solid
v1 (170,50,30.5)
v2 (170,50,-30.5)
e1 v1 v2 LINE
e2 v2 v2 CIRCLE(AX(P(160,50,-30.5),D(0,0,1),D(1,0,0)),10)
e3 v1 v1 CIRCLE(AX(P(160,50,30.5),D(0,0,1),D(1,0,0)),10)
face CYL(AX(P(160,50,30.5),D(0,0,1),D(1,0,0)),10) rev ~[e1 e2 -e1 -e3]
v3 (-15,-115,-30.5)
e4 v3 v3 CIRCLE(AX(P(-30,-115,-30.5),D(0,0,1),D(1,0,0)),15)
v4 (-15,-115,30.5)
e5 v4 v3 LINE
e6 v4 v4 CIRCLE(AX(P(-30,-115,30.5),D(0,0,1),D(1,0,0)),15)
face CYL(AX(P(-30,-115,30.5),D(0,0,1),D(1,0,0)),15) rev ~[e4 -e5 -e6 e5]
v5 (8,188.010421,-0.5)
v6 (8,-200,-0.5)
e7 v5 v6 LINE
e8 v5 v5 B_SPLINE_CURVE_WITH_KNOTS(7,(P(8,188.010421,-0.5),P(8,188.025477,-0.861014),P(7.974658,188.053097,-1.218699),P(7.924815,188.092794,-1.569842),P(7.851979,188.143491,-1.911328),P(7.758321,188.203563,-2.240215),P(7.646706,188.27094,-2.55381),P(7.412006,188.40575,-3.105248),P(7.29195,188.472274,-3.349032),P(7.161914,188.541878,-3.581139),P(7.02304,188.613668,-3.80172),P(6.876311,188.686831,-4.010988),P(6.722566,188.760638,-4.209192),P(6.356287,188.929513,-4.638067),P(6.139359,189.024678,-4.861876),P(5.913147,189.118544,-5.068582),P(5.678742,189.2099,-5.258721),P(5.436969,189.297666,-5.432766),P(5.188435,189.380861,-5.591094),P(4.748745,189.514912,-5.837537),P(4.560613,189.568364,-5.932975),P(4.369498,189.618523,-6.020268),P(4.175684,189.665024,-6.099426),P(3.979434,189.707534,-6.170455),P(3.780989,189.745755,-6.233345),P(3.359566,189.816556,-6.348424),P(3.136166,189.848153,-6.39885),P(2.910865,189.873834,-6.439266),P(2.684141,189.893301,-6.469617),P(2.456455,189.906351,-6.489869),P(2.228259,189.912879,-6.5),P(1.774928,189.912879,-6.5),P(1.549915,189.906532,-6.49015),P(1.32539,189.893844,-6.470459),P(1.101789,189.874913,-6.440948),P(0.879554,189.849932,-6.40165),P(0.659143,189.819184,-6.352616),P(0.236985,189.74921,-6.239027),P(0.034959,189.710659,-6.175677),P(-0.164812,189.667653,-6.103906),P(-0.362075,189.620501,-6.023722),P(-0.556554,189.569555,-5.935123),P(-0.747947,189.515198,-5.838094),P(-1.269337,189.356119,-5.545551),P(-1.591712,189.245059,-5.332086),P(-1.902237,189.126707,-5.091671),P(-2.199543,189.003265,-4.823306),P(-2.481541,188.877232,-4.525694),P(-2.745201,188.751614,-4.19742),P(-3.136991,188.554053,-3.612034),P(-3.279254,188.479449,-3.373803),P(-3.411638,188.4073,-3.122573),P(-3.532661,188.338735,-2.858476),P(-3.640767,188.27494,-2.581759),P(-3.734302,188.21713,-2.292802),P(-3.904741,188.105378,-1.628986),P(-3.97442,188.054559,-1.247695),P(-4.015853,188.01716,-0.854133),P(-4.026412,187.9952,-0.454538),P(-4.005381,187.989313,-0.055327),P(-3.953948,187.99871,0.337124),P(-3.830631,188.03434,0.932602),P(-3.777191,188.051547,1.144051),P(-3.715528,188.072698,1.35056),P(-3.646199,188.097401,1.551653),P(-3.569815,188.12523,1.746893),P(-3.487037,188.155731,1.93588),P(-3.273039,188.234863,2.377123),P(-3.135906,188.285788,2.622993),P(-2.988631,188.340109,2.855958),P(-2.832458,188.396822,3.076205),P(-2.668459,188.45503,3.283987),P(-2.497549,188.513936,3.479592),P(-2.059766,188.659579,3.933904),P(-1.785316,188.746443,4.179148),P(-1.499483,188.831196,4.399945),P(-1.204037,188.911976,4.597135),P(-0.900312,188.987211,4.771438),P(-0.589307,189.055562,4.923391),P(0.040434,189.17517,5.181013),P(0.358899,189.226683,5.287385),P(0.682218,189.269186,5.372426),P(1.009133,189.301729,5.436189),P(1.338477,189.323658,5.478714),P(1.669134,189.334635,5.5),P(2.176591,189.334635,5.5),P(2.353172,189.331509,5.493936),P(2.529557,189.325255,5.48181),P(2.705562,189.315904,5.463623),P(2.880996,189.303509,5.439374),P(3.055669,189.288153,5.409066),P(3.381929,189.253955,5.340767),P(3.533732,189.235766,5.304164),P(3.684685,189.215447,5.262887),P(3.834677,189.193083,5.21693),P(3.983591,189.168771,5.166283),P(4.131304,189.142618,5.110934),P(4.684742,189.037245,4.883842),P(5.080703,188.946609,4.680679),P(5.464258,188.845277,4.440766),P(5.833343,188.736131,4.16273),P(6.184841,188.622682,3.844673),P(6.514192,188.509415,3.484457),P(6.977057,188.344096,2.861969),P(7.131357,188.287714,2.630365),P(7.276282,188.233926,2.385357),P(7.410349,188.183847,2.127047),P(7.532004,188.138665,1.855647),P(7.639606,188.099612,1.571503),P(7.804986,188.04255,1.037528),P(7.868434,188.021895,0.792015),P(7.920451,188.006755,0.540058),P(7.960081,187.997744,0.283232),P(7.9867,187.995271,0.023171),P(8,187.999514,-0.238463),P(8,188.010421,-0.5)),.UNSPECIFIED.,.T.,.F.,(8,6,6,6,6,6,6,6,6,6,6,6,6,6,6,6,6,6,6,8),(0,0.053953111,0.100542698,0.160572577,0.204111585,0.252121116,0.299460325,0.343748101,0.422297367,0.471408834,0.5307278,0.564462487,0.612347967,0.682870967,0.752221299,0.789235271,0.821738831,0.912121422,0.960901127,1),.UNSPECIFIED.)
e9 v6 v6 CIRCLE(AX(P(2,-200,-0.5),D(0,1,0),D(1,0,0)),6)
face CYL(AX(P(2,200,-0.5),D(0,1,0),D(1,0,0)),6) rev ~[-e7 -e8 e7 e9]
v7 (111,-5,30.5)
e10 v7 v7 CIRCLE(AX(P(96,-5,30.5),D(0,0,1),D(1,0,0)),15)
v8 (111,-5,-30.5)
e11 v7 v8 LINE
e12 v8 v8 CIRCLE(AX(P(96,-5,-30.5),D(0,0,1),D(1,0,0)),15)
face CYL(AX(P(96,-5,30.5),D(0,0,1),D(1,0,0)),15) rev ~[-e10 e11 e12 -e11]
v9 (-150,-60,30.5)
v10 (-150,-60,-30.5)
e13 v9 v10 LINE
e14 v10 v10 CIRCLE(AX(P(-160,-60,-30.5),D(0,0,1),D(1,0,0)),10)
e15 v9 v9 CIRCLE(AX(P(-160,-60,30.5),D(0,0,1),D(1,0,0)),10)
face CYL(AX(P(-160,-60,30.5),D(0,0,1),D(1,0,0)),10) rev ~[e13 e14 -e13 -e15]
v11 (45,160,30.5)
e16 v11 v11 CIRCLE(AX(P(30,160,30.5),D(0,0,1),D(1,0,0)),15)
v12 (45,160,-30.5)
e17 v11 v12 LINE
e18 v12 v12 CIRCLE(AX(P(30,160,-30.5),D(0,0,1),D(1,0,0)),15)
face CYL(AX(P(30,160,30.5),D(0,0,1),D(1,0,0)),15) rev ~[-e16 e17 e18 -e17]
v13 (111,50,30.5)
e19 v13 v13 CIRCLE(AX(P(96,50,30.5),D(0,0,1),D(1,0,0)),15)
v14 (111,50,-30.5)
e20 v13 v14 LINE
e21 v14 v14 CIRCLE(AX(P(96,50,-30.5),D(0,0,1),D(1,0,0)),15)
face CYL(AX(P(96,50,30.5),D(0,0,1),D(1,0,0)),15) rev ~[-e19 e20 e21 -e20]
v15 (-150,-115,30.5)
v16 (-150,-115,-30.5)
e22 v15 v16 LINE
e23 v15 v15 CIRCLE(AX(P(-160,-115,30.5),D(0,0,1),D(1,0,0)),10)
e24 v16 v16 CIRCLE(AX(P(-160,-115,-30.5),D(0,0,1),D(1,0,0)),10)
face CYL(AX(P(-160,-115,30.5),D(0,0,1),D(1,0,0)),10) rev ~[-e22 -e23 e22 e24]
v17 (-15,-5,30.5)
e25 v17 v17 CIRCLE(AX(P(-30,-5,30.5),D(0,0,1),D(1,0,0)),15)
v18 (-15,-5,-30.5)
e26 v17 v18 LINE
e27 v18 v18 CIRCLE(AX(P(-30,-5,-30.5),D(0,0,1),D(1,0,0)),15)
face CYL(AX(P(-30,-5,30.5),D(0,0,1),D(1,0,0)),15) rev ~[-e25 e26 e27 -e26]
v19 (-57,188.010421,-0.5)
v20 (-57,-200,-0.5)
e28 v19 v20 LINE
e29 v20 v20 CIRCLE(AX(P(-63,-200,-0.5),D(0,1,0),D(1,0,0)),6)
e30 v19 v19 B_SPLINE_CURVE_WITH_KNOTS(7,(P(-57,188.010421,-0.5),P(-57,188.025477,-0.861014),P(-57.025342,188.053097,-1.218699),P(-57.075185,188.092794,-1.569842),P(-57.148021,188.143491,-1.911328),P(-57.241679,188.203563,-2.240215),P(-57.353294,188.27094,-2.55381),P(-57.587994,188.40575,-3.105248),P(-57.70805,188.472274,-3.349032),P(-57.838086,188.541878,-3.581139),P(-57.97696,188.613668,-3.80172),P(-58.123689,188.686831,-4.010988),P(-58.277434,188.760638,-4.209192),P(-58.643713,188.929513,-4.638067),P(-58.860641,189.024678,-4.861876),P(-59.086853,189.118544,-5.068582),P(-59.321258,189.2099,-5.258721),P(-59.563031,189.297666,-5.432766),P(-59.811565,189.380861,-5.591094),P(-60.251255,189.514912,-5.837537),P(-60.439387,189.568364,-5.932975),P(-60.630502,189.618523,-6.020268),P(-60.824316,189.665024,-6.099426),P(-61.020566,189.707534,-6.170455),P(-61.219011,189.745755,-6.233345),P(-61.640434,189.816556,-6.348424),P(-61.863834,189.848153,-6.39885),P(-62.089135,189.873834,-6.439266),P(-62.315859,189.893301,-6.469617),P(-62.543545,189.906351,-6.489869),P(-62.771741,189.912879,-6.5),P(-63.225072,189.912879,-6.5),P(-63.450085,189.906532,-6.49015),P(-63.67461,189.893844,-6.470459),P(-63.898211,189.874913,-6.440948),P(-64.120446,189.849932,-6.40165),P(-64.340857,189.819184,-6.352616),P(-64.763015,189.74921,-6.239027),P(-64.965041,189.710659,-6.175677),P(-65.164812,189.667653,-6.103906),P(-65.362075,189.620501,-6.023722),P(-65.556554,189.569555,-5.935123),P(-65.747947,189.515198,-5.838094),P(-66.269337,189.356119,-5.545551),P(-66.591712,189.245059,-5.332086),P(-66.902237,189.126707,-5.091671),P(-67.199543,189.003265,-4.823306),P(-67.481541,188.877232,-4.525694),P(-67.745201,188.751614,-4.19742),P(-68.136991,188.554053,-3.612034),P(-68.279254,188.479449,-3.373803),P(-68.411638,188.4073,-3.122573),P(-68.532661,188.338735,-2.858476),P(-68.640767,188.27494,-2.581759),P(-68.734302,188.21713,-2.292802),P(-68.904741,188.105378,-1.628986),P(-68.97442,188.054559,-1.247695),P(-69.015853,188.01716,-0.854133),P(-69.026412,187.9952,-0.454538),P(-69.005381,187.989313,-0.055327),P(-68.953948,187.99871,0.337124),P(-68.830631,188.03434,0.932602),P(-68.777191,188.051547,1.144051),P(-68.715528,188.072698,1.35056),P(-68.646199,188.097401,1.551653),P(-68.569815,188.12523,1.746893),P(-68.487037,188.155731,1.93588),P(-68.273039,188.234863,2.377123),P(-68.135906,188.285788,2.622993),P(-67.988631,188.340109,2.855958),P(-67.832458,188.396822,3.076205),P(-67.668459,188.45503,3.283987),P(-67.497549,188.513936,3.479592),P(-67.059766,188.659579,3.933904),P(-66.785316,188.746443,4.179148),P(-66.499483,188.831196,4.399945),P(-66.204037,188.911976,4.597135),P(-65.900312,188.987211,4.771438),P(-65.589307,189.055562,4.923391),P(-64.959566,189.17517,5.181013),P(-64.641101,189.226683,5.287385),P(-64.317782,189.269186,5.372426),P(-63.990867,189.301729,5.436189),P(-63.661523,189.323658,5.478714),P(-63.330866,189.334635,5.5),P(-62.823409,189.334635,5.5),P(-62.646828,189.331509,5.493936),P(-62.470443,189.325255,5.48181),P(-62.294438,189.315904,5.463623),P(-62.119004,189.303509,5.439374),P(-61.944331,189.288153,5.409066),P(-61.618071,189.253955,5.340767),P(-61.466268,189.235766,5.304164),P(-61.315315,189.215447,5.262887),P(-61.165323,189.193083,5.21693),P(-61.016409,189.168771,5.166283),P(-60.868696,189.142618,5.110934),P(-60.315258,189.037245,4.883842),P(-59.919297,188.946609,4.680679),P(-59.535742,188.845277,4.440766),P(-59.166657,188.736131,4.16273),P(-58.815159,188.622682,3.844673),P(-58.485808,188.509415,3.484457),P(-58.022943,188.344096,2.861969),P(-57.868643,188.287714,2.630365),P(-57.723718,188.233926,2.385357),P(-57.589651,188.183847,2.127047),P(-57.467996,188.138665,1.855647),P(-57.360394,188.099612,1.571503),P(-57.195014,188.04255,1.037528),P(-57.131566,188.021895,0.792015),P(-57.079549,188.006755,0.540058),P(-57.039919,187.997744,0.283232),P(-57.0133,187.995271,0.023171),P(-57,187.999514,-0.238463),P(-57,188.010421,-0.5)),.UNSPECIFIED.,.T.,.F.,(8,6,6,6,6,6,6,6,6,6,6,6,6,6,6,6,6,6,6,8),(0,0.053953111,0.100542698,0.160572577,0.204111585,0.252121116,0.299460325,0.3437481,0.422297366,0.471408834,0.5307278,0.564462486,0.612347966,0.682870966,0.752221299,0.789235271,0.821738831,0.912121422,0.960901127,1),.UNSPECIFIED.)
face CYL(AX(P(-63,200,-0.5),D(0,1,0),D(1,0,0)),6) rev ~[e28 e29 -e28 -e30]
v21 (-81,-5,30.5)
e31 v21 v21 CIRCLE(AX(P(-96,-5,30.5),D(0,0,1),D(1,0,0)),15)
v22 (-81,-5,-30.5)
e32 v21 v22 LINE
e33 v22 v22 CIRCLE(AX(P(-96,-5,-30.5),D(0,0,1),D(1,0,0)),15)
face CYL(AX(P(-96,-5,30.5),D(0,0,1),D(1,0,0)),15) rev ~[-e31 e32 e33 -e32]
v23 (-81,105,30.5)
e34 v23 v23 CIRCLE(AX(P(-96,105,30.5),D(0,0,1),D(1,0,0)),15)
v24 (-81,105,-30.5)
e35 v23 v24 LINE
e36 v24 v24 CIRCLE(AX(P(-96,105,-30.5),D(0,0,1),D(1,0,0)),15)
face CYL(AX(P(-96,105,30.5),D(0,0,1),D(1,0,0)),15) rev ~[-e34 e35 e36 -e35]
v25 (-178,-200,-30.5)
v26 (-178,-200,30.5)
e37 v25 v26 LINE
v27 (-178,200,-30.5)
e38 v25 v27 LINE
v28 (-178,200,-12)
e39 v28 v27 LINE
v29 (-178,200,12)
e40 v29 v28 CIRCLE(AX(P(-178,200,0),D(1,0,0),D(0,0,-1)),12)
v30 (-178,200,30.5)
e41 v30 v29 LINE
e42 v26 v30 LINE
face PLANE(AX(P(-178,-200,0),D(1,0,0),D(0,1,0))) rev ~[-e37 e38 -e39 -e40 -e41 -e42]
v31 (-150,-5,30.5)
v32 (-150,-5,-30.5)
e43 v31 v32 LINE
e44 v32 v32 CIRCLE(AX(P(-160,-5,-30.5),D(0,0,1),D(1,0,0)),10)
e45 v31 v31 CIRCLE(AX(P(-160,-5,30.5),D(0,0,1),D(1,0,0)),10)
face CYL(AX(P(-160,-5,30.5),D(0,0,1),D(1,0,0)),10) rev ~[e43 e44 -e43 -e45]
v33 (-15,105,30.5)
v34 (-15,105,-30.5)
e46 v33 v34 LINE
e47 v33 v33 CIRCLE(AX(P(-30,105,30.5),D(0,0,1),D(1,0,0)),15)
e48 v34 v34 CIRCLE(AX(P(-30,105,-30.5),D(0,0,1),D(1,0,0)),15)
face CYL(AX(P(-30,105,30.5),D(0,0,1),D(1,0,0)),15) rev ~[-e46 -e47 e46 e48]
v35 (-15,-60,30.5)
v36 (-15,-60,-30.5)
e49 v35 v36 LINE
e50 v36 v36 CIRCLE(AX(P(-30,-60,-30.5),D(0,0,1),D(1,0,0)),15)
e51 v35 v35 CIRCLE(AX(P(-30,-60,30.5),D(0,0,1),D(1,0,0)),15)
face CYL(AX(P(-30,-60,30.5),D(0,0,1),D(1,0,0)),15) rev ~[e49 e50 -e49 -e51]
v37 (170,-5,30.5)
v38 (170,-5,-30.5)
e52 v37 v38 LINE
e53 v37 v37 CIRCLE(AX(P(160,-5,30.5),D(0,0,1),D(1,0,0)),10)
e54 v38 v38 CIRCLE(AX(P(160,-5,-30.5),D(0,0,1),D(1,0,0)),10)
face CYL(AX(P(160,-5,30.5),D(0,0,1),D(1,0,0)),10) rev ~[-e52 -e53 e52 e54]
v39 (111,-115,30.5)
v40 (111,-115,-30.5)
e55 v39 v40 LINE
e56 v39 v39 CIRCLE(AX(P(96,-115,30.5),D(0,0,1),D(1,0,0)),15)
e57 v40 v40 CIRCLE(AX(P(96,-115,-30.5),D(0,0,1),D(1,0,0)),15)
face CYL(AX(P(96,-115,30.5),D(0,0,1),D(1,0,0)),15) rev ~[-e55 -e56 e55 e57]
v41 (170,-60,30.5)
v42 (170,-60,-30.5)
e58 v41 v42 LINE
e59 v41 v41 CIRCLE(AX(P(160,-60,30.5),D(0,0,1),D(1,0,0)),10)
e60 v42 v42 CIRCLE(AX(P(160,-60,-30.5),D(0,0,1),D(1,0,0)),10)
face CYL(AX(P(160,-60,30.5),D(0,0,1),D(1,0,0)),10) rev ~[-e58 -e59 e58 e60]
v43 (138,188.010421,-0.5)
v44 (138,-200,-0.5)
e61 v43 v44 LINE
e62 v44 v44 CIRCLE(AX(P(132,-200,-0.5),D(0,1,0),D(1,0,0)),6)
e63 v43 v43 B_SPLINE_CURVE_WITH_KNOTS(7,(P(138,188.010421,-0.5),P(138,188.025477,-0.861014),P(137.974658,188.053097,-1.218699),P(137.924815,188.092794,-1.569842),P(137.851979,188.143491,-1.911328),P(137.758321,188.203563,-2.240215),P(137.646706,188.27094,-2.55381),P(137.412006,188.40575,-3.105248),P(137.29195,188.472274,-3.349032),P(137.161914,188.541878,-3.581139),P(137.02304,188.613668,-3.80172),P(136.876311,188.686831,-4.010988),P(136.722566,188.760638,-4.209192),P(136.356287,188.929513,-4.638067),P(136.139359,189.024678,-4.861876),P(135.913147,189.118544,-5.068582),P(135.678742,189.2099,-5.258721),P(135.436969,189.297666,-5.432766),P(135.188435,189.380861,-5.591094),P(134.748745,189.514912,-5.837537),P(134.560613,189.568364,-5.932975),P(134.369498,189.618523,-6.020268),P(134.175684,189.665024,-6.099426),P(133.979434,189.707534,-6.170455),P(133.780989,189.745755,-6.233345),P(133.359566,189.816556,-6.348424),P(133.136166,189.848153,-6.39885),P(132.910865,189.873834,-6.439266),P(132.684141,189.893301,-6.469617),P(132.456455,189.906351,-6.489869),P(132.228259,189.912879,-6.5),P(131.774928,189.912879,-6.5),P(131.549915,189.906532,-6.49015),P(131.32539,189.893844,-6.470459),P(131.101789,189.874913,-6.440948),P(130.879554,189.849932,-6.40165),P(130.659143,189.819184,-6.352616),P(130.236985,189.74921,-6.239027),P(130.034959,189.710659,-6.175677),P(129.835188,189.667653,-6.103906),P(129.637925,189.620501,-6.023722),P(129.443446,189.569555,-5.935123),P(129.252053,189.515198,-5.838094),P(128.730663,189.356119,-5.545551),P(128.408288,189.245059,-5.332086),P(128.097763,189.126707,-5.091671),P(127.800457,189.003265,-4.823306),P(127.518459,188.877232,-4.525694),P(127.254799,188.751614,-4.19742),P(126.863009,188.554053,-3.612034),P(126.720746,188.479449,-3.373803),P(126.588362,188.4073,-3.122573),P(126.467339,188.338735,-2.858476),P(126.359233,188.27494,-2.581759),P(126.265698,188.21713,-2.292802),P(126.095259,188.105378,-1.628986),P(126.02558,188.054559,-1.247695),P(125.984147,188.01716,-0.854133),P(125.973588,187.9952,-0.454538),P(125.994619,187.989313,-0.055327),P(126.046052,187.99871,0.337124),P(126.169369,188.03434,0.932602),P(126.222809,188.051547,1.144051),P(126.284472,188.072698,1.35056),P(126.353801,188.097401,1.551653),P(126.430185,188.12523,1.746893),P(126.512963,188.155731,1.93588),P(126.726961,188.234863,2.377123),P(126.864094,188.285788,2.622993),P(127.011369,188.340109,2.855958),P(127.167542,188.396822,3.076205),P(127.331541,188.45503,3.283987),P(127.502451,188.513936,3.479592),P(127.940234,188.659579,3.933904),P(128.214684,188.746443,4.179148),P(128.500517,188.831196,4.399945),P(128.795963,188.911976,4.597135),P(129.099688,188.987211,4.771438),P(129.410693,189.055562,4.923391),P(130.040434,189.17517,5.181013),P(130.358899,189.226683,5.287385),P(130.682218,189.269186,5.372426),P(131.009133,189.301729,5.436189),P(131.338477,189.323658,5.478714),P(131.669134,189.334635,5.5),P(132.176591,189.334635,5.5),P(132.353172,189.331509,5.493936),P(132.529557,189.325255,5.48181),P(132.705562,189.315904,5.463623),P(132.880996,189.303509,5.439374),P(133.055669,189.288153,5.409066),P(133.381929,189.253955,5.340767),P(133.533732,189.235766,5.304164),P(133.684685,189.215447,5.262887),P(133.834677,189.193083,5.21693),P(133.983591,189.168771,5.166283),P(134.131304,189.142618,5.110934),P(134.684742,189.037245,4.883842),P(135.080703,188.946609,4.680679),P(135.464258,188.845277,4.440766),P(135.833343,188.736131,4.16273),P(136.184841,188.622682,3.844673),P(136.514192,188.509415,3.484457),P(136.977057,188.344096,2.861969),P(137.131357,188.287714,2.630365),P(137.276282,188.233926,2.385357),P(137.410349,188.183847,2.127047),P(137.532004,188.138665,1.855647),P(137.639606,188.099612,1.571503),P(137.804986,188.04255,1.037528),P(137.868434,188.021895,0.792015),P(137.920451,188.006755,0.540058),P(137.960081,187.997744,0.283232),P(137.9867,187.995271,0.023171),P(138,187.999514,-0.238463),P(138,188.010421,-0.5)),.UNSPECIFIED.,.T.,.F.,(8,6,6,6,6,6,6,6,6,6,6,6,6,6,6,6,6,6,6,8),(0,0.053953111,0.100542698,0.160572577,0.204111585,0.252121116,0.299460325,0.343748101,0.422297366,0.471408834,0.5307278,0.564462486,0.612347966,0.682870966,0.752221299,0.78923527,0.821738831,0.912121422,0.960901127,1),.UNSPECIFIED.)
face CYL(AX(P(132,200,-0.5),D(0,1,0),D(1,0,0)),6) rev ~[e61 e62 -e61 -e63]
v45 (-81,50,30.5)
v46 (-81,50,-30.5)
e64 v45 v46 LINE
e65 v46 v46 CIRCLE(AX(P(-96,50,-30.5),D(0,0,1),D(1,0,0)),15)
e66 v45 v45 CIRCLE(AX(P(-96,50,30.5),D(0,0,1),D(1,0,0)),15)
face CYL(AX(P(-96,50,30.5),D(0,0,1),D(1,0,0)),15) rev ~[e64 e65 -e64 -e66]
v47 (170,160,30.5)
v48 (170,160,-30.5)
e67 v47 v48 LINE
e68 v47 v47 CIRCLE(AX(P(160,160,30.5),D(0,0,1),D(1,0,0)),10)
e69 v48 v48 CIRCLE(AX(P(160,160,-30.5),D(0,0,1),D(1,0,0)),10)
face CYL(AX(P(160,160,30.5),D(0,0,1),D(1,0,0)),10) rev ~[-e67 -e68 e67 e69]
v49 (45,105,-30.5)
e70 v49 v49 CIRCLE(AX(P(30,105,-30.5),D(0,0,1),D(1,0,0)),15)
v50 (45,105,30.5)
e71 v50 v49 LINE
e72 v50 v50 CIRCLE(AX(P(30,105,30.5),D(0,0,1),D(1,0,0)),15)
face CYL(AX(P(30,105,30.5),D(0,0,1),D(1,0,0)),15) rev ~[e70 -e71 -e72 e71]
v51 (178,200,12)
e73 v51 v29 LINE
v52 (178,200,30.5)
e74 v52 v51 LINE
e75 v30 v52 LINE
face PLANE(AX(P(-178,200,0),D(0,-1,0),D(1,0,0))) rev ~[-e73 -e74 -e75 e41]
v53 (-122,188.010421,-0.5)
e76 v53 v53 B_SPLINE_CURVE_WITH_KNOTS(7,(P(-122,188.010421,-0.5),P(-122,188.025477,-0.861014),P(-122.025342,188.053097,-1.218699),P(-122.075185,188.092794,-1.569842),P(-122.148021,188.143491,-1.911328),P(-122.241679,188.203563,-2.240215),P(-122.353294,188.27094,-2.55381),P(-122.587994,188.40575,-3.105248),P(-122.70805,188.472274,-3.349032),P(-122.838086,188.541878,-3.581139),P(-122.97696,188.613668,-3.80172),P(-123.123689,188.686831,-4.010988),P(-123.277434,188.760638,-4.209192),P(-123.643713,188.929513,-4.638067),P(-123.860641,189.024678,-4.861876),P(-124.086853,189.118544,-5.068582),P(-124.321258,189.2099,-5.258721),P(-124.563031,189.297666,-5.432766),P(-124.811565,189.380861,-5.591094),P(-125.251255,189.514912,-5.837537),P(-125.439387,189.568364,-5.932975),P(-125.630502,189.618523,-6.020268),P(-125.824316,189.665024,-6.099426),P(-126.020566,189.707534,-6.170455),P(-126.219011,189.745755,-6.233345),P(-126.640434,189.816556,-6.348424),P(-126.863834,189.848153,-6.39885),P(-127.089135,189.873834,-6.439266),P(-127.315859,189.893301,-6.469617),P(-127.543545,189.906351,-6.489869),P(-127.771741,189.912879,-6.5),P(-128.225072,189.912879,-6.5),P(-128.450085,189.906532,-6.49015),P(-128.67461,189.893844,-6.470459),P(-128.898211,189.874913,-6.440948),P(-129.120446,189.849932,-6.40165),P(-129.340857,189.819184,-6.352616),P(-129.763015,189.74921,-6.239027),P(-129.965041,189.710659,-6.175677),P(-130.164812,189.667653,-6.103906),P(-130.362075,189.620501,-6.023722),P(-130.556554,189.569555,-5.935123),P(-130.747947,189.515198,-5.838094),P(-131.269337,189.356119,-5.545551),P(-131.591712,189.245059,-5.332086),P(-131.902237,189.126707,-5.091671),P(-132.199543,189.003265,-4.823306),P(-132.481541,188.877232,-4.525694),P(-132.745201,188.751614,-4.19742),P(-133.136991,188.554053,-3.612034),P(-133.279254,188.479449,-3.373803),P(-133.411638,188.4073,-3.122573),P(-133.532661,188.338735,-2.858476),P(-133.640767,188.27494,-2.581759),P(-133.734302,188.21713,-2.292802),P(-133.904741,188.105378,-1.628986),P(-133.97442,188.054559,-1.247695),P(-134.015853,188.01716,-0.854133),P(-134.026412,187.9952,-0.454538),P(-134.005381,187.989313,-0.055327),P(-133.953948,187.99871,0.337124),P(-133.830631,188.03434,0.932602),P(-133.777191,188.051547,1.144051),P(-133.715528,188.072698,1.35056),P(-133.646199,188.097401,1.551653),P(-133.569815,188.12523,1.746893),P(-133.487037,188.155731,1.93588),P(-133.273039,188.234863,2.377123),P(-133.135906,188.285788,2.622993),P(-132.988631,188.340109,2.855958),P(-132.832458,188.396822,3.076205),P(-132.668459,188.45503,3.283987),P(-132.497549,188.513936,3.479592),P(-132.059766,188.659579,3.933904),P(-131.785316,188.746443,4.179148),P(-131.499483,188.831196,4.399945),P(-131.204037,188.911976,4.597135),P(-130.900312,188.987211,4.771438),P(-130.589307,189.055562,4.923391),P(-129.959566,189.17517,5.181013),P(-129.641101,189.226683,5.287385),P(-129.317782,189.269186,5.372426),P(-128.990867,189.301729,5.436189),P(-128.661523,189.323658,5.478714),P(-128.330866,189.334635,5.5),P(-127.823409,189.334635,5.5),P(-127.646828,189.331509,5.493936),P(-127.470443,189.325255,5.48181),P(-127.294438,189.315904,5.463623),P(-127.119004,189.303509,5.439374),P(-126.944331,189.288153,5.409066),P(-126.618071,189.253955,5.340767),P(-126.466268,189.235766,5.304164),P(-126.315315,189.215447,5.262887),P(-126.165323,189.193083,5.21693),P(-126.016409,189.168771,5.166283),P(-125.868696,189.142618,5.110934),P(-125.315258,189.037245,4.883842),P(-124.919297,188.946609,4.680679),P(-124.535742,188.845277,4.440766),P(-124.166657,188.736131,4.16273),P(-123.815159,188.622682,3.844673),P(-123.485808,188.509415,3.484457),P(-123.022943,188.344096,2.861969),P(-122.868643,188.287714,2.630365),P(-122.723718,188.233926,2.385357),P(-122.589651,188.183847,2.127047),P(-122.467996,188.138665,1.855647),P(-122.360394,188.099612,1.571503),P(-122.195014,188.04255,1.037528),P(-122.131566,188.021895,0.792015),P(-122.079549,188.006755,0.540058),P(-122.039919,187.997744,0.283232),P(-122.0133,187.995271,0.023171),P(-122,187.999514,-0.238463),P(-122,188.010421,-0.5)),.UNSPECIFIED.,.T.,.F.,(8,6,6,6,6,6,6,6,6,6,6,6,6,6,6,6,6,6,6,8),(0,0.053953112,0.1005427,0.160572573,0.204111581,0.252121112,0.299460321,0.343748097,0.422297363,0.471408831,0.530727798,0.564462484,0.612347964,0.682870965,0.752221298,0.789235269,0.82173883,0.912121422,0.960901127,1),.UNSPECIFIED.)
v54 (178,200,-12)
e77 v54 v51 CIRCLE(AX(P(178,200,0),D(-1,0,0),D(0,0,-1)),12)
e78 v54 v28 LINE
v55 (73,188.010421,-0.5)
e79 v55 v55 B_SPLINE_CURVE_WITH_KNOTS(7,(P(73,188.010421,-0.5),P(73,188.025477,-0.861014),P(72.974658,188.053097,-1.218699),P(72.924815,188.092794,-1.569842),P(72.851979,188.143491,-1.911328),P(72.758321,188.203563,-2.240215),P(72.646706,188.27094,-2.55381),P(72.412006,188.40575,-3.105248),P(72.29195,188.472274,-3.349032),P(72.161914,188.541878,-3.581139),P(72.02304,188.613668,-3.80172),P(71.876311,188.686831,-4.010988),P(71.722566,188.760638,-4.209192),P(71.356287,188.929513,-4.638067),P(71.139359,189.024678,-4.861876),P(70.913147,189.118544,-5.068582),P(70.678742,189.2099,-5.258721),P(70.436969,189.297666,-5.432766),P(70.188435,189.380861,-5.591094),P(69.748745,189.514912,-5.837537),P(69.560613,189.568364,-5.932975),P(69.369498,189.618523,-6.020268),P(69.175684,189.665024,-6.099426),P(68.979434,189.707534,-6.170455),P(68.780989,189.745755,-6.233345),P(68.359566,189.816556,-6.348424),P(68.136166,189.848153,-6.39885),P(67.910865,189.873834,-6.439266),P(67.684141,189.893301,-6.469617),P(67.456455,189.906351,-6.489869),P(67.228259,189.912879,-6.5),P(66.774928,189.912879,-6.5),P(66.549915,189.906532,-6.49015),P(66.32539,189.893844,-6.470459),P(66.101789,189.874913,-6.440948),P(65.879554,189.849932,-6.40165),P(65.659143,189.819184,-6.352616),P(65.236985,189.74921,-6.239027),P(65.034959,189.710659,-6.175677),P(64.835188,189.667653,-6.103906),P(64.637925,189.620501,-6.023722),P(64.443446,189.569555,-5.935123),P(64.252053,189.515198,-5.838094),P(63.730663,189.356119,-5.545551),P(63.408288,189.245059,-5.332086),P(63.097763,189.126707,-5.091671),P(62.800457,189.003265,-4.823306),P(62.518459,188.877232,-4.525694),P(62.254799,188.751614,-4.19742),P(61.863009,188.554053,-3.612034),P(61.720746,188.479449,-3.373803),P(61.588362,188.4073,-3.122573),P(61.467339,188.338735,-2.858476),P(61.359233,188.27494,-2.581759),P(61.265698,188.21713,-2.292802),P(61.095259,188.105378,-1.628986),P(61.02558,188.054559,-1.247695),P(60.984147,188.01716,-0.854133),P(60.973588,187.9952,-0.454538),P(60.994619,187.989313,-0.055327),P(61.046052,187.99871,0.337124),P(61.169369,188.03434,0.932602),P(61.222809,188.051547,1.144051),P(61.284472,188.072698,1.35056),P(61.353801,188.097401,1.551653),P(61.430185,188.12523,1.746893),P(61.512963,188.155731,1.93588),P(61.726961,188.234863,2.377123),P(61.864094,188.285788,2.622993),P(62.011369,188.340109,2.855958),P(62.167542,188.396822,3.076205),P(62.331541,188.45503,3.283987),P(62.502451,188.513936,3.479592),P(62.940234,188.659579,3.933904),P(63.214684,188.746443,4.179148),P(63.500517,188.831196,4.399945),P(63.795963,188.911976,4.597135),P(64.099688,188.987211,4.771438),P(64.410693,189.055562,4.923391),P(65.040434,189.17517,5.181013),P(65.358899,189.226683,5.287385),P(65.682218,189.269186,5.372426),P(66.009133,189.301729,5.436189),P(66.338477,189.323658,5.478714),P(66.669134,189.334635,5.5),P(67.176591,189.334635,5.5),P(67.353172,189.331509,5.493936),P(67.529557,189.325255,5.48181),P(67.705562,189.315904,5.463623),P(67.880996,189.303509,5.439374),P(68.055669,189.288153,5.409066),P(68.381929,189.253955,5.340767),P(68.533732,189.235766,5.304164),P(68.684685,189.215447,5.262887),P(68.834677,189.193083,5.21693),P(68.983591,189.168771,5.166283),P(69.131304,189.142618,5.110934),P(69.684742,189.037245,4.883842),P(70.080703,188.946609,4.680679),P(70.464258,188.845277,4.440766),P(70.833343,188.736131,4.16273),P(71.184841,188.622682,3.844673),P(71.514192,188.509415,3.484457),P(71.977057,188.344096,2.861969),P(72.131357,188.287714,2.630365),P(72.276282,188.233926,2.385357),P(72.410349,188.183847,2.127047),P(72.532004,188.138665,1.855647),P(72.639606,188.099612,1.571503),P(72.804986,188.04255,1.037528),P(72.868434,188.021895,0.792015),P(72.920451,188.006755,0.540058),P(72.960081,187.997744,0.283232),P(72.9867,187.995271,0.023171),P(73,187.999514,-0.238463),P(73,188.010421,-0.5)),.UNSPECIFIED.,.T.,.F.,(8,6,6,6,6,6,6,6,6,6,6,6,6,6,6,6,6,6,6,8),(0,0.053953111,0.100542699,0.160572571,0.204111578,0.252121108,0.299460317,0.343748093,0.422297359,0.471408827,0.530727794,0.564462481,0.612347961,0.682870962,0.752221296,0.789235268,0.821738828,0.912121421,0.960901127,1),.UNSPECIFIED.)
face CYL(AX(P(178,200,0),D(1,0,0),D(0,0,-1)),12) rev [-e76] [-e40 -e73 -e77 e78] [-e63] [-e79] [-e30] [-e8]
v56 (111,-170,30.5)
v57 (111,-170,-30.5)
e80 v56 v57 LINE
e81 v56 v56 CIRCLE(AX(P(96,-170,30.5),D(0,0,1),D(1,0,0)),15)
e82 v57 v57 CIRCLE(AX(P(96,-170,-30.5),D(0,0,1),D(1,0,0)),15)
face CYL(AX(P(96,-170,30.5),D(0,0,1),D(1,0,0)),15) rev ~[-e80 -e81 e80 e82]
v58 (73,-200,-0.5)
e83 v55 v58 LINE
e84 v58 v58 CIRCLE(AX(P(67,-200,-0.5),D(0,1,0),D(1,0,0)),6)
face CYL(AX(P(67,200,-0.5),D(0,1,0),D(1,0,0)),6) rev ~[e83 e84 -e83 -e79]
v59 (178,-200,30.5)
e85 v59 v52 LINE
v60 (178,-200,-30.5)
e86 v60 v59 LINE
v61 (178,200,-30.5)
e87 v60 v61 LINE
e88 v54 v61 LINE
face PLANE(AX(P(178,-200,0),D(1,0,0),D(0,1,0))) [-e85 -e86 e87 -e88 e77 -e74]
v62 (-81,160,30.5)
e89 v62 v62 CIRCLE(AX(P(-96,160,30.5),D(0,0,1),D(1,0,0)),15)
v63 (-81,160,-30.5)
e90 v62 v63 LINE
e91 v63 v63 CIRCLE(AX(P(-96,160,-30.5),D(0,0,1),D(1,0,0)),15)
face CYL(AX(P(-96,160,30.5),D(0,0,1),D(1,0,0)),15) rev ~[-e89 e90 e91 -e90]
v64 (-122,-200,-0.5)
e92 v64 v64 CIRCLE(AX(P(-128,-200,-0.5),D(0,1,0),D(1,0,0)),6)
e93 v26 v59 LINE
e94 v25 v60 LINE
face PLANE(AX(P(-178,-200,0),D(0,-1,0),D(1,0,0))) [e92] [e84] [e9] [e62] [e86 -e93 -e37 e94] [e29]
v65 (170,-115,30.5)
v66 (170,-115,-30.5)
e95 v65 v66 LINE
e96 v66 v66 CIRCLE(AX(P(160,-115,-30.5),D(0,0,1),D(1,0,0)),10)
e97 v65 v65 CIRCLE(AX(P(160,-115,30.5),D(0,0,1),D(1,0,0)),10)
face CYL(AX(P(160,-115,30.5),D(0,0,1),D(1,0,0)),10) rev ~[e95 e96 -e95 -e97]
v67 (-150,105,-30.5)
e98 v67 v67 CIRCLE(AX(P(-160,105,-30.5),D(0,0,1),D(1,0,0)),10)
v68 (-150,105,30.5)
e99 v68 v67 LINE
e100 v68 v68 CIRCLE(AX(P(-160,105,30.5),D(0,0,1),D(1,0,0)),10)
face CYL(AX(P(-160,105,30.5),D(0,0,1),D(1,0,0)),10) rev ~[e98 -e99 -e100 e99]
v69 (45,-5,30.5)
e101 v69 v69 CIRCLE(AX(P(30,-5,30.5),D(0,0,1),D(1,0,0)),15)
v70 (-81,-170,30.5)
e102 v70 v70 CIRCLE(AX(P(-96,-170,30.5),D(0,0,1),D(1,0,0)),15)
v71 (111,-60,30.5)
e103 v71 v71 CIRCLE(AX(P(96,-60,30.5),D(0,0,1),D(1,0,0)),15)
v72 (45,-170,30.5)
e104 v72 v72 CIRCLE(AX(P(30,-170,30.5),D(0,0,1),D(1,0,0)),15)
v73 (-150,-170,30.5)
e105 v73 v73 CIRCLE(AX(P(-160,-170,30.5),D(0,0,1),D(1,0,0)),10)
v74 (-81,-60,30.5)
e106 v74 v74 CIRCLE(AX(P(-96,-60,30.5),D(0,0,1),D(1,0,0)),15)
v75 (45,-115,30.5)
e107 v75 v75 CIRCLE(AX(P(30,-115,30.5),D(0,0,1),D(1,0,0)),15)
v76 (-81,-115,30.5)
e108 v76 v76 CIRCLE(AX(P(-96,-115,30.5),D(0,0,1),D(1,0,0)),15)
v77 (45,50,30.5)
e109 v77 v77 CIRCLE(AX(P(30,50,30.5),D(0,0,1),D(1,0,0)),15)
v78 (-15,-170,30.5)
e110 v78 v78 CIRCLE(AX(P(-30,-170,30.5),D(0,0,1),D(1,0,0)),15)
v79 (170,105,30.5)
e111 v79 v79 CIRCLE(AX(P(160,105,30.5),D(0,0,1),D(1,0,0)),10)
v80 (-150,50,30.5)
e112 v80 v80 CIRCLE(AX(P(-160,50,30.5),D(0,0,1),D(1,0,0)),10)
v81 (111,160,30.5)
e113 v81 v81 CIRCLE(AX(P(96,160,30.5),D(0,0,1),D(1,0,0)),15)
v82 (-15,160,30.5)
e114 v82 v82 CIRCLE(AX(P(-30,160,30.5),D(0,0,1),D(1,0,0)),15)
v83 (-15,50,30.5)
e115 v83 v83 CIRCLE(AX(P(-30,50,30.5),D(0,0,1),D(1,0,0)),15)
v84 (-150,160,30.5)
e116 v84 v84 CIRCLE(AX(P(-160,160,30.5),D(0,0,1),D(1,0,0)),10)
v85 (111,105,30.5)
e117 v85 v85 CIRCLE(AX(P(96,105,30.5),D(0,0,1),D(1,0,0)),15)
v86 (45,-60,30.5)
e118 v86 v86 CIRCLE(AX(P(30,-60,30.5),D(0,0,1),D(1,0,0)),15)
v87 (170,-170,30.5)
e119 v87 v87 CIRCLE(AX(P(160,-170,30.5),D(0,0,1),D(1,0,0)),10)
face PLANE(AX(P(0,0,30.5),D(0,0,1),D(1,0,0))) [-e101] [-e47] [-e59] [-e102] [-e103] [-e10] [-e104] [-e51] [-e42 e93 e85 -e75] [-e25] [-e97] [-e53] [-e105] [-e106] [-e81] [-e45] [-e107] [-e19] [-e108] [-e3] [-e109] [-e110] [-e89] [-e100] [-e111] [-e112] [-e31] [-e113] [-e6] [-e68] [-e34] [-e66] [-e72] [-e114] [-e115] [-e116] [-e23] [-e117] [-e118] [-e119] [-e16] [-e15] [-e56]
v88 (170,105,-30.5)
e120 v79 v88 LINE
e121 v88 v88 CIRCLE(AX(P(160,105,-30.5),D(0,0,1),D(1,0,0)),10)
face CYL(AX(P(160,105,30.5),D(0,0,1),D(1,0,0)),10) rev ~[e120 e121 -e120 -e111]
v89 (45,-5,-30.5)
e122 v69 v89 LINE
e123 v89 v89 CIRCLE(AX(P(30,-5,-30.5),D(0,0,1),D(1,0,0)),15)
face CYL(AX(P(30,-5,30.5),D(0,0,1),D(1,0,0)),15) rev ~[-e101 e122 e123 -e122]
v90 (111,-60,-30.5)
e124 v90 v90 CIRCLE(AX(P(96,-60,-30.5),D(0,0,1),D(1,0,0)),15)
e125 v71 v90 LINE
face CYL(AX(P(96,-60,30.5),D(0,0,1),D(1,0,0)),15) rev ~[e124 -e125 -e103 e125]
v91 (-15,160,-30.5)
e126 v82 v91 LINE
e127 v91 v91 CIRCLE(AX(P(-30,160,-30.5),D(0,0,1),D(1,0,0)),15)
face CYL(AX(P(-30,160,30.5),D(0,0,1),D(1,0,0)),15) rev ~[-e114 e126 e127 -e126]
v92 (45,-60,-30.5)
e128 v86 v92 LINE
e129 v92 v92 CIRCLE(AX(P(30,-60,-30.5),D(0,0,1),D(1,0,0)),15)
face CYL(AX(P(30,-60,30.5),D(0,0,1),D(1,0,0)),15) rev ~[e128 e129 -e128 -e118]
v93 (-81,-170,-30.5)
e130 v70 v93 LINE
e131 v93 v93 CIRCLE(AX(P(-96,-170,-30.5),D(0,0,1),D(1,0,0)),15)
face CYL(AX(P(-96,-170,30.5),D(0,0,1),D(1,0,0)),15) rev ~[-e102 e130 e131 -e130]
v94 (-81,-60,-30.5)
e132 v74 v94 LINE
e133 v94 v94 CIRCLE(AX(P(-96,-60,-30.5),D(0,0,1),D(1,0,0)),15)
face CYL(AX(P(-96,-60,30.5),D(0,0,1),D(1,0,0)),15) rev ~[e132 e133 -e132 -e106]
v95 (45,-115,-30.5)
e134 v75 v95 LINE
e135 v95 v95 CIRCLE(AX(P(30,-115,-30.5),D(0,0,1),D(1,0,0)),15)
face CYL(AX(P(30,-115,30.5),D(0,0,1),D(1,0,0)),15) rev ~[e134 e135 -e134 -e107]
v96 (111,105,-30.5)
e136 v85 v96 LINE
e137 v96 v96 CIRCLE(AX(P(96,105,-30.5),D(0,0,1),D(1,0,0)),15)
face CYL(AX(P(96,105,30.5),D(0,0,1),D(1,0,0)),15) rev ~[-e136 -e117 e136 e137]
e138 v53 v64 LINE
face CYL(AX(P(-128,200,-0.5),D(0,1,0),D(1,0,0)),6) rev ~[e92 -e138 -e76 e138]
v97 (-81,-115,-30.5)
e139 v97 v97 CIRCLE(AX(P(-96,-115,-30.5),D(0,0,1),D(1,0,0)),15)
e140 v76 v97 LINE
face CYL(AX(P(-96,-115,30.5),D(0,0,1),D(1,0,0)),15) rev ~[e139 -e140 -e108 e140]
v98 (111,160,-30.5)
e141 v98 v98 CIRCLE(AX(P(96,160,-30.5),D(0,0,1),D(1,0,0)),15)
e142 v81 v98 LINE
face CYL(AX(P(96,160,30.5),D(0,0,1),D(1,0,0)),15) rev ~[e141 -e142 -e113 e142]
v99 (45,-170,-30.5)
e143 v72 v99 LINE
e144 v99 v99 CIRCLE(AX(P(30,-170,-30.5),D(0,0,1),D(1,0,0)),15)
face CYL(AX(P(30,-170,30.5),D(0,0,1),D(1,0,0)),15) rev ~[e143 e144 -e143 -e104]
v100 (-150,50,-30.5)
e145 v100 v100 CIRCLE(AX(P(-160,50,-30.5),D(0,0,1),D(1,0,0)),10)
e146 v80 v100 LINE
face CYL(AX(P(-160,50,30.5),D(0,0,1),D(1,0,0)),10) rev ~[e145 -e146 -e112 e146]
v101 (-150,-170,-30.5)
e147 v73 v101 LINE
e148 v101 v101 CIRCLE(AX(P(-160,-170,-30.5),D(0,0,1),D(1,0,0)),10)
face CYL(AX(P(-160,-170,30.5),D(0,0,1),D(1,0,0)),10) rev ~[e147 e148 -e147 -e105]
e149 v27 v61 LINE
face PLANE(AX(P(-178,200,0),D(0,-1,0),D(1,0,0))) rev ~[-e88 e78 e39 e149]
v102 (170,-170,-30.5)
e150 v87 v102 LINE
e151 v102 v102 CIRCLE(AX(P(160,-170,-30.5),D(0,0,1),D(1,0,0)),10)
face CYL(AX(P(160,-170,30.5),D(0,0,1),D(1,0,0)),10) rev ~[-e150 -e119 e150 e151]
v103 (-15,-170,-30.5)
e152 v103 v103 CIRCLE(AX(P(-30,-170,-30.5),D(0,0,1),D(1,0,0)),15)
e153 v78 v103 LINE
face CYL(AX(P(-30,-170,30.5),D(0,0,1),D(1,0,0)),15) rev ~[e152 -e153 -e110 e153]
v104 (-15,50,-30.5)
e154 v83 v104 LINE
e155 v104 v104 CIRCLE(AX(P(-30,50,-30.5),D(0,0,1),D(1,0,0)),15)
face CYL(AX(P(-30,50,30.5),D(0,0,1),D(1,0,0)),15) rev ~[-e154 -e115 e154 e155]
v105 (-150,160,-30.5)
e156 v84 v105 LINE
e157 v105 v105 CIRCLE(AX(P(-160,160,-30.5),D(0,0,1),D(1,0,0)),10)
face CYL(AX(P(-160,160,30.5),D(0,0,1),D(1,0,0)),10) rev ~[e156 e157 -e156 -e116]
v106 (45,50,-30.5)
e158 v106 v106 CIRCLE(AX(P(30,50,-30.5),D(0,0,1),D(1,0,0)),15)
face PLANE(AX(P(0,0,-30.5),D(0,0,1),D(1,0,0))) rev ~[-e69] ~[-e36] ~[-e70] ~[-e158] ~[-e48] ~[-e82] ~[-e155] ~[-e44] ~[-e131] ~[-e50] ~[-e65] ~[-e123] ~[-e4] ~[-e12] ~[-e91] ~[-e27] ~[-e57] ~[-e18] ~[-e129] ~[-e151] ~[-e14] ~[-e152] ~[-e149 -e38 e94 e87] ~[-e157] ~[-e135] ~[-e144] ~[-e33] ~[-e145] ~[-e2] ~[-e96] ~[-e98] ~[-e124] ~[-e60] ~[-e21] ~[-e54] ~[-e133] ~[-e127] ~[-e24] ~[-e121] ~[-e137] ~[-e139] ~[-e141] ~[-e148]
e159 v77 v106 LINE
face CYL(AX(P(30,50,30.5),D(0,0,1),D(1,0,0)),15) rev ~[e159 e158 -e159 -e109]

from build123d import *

# Parameters (mm, degrees)
SKETCH1_W           = 356
SKETCH1_H           = 400
BOSS_EXTRUDE1_DEPTH = 30.5
SKETCH4_R           = 10
SKETCH4_R_2         = 6
BOSS_EXTRUDE2_DEPTH = 400
CUT_EXTRUDE1_DEPTH  = 357
SKETCH4_2_R         = 6
CUT_EXTRUDE2_DEPTH  = 401
SKETCH4_3_R         = 6
CUT_EXTRUDE3_DEPTH  = 401.0000001
SKETCH8_R           = 15
SKETCH8_R_2         = 10
CUT_EXTRUDE4_DEPTH  = 62


with BuildPart() as part:
    # Sketch1 → Boss-Extrude1 (new body, symmetric)
    with BuildSketch(Plane.XY):
        Rectangle(SKETCH1_W, SKETCH1_H)
    extrude(amount=BOSS_EXTRUDE1_DEPTH, both=True)

    # Sketch4 → Boss-Extrude2 (add, through all)
    with BuildSketch(Plane(origin=(0, 200, 0), x_dir=(1, 0, 0), z_dir=(0, 1, 0))):
        with Locations((-128, 0.5)):
            Circle(SKETCH4_R)
        with Locations((-128, 0.5)):
            Circle(SKETCH4_R_2, mode=Mode.SUBTRACT)
        with Locations((-63, 0.5)):
            Circle(SKETCH4_R)
        with Locations((-63, 0.5)):
            Circle(SKETCH4_R_2, mode=Mode.SUBTRACT)
        with Locations((2, 0.5)):
            Circle(SKETCH4_R)
        with Locations((2, 0.5)):
            Circle(SKETCH4_R_2, mode=Mode.SUBTRACT)
        with Locations((67, 0.5)):
            Circle(SKETCH4_R)
        with Locations((67, 0.5)):
            Circle(SKETCH4_R_2, mode=Mode.SUBTRACT)
        with Locations((132, 0.5)):
            Circle(SKETCH4_R)
        with Locations((132, 0.5)):
            Circle(SKETCH4_R_2, mode=Mode.SUBTRACT)
    extrude(amount=-BOSS_EXTRUDE2_DEPTH)

    # Sketch6 → Cut-Extrude1 (cut, through all)
    with BuildSketch(Plane(origin=(178, 0, 0), x_dir=(0, 0, -1), z_dir=(1, 0, 0))):
        with BuildLine():
            Line((-12, 200), (12, 200))
            ThreePointArc((12, 200), (0, 188), (-12, 200))
        make_face()
    extrude(amount=-CUT_EXTRUDE1_DEPTH, mode=Mode.SUBTRACT)

    # Sketch4<2> → Cut-Extrude2 (cut, through all)
    with BuildSketch(Plane(origin=(0, 200, 0), x_dir=(1, 0, 0), z_dir=(0, 1, 0))):
        with Locations((-128, 0.5)):
            Circle(SKETCH4_2_R)
    extrude(amount=-CUT_EXTRUDE2_DEPTH, mode=Mode.SUBTRACT)

    # Sketch4<3> → Cut-Extrude3 (cut, through all)
    with BuildSketch(Plane(origin=(0, 200, 0), x_dir=(1, 0, 0), z_dir=(0, 1, 0))):
        with Locations((-128, 0.5)):
            Circle(SKETCH4_3_R)
        with Locations((-63, 0.5)):
            Circle(SKETCH4_3_R)
        with Locations((2, 0.5)):
            Circle(SKETCH4_3_R)
        with Locations((67, 0.5)):
            Circle(SKETCH4_3_R)
        with Locations((132, 0.5)):
            Circle(SKETCH4_3_R)
    extrude(amount=-CUT_EXTRUDE3_DEPTH, mode=Mode.SUBTRACT)

    # Sketch8 → Cut-Extrude4 (cut, through all)
    with BuildSketch(Plane.XY.offset(30.5)):
        with Locations((-30, 160)):
            Circle(SKETCH8_R)
        with Locations((-30, 105)):
            Circle(SKETCH8_R)
        with Locations((-30, 50)):
            Circle(SKETCH8_R)
        with Locations((-30, -5)):
            Circle(SKETCH8_R)
        with Locations((-30, -60)):
            Circle(SKETCH8_R)
        with Locations((-30, -115)):
            Circle(SKETCH8_R)
        with Locations((-30, -170)):
            Circle(SKETCH8_R)
        with Locations((30, -170)):
            Circle(SKETCH8_R)
        with Locations((30, -115)):
            Circle(SKETCH8_R)
        with Locations((30, -60)):
            Circle(SKETCH8_R)
        with Locations((30, -5)):
            Circle(SKETCH8_R)
        with Locations((30, 50)):
            Circle(SKETCH8_R)
        with Locations((30, 105)):
            Circle(SKETCH8_R)
        with Locations((30, 160)):
            Circle(SKETCH8_R)
        with Locations((-96, -170)):
            Circle(SKETCH8_R)
        with Locations((-96, -115)):
            Circle(SKETCH8_R)
        with Locations((-96, -60)):
            Circle(SKETCH8_R)
        with Locations((-96, -5)):
            Circle(SKETCH8_R)
        with Locations((-96, 50)):
            Circle(SKETCH8_R)
        with Locations((-96, 105)):
            Circle(SKETCH8_R)
        with Locations((-96, 160)):
            Circle(SKETCH8_R)
        with Locations((96, 160)):
            Circle(SKETCH8_R)
        with Locations((96, 105)):
            Circle(SKETCH8_R)
        with Locations((96, 50)):
            Circle(SKETCH8_R)
        with Locations((96, -5)):
            Circle(SKETCH8_R)
        with Locations((96, -60)):
            Circle(SKETCH8_R)
        with Locations((96, -115)):
            Circle(SKETCH8_R)
        with Locations((96, -170)):
            Circle(SKETCH8_R)
        with Locations((-160, 160)):
            Circle(SKETCH8_R_2)
        with Locations((-160, 105)):
            Circle(SKETCH8_R_2)
        with Locations((-160, 50)):
            Circle(SKETCH8_R_2)
        with Locations((-160, -5)):
            Circle(SKETCH8_R_2)
        with Locations((-160, -60)):
            Circle(SKETCH8_R_2)
        with Locations((-160, -115)):
            Circle(SKETCH8_R_2)
        with Locations((-160, -170)):
            Circle(SKETCH8_R_2)
        with Locations((160, -170)):
            Circle(SKETCH8_R_2)
        with Locations((160, -115)):
            Circle(SKETCH8_R_2)
        with Locations((160, -60)):
            Circle(SKETCH8_R_2)
        with Locations((160, -5)):
            Circle(SKETCH8_R_2)
        with Locations((160, 50)):
            Circle(SKETCH8_R_2)
        with Locations((160, 105)):
            Circle(SKETCH8_R_2)
        with Locations((160, 160)):
            Circle(SKETCH8_R_2)
    extrude(amount=-CUT_EXTRUDE4_DEPTH, mode=Mode.SUBTRACT)


solid = part.part
